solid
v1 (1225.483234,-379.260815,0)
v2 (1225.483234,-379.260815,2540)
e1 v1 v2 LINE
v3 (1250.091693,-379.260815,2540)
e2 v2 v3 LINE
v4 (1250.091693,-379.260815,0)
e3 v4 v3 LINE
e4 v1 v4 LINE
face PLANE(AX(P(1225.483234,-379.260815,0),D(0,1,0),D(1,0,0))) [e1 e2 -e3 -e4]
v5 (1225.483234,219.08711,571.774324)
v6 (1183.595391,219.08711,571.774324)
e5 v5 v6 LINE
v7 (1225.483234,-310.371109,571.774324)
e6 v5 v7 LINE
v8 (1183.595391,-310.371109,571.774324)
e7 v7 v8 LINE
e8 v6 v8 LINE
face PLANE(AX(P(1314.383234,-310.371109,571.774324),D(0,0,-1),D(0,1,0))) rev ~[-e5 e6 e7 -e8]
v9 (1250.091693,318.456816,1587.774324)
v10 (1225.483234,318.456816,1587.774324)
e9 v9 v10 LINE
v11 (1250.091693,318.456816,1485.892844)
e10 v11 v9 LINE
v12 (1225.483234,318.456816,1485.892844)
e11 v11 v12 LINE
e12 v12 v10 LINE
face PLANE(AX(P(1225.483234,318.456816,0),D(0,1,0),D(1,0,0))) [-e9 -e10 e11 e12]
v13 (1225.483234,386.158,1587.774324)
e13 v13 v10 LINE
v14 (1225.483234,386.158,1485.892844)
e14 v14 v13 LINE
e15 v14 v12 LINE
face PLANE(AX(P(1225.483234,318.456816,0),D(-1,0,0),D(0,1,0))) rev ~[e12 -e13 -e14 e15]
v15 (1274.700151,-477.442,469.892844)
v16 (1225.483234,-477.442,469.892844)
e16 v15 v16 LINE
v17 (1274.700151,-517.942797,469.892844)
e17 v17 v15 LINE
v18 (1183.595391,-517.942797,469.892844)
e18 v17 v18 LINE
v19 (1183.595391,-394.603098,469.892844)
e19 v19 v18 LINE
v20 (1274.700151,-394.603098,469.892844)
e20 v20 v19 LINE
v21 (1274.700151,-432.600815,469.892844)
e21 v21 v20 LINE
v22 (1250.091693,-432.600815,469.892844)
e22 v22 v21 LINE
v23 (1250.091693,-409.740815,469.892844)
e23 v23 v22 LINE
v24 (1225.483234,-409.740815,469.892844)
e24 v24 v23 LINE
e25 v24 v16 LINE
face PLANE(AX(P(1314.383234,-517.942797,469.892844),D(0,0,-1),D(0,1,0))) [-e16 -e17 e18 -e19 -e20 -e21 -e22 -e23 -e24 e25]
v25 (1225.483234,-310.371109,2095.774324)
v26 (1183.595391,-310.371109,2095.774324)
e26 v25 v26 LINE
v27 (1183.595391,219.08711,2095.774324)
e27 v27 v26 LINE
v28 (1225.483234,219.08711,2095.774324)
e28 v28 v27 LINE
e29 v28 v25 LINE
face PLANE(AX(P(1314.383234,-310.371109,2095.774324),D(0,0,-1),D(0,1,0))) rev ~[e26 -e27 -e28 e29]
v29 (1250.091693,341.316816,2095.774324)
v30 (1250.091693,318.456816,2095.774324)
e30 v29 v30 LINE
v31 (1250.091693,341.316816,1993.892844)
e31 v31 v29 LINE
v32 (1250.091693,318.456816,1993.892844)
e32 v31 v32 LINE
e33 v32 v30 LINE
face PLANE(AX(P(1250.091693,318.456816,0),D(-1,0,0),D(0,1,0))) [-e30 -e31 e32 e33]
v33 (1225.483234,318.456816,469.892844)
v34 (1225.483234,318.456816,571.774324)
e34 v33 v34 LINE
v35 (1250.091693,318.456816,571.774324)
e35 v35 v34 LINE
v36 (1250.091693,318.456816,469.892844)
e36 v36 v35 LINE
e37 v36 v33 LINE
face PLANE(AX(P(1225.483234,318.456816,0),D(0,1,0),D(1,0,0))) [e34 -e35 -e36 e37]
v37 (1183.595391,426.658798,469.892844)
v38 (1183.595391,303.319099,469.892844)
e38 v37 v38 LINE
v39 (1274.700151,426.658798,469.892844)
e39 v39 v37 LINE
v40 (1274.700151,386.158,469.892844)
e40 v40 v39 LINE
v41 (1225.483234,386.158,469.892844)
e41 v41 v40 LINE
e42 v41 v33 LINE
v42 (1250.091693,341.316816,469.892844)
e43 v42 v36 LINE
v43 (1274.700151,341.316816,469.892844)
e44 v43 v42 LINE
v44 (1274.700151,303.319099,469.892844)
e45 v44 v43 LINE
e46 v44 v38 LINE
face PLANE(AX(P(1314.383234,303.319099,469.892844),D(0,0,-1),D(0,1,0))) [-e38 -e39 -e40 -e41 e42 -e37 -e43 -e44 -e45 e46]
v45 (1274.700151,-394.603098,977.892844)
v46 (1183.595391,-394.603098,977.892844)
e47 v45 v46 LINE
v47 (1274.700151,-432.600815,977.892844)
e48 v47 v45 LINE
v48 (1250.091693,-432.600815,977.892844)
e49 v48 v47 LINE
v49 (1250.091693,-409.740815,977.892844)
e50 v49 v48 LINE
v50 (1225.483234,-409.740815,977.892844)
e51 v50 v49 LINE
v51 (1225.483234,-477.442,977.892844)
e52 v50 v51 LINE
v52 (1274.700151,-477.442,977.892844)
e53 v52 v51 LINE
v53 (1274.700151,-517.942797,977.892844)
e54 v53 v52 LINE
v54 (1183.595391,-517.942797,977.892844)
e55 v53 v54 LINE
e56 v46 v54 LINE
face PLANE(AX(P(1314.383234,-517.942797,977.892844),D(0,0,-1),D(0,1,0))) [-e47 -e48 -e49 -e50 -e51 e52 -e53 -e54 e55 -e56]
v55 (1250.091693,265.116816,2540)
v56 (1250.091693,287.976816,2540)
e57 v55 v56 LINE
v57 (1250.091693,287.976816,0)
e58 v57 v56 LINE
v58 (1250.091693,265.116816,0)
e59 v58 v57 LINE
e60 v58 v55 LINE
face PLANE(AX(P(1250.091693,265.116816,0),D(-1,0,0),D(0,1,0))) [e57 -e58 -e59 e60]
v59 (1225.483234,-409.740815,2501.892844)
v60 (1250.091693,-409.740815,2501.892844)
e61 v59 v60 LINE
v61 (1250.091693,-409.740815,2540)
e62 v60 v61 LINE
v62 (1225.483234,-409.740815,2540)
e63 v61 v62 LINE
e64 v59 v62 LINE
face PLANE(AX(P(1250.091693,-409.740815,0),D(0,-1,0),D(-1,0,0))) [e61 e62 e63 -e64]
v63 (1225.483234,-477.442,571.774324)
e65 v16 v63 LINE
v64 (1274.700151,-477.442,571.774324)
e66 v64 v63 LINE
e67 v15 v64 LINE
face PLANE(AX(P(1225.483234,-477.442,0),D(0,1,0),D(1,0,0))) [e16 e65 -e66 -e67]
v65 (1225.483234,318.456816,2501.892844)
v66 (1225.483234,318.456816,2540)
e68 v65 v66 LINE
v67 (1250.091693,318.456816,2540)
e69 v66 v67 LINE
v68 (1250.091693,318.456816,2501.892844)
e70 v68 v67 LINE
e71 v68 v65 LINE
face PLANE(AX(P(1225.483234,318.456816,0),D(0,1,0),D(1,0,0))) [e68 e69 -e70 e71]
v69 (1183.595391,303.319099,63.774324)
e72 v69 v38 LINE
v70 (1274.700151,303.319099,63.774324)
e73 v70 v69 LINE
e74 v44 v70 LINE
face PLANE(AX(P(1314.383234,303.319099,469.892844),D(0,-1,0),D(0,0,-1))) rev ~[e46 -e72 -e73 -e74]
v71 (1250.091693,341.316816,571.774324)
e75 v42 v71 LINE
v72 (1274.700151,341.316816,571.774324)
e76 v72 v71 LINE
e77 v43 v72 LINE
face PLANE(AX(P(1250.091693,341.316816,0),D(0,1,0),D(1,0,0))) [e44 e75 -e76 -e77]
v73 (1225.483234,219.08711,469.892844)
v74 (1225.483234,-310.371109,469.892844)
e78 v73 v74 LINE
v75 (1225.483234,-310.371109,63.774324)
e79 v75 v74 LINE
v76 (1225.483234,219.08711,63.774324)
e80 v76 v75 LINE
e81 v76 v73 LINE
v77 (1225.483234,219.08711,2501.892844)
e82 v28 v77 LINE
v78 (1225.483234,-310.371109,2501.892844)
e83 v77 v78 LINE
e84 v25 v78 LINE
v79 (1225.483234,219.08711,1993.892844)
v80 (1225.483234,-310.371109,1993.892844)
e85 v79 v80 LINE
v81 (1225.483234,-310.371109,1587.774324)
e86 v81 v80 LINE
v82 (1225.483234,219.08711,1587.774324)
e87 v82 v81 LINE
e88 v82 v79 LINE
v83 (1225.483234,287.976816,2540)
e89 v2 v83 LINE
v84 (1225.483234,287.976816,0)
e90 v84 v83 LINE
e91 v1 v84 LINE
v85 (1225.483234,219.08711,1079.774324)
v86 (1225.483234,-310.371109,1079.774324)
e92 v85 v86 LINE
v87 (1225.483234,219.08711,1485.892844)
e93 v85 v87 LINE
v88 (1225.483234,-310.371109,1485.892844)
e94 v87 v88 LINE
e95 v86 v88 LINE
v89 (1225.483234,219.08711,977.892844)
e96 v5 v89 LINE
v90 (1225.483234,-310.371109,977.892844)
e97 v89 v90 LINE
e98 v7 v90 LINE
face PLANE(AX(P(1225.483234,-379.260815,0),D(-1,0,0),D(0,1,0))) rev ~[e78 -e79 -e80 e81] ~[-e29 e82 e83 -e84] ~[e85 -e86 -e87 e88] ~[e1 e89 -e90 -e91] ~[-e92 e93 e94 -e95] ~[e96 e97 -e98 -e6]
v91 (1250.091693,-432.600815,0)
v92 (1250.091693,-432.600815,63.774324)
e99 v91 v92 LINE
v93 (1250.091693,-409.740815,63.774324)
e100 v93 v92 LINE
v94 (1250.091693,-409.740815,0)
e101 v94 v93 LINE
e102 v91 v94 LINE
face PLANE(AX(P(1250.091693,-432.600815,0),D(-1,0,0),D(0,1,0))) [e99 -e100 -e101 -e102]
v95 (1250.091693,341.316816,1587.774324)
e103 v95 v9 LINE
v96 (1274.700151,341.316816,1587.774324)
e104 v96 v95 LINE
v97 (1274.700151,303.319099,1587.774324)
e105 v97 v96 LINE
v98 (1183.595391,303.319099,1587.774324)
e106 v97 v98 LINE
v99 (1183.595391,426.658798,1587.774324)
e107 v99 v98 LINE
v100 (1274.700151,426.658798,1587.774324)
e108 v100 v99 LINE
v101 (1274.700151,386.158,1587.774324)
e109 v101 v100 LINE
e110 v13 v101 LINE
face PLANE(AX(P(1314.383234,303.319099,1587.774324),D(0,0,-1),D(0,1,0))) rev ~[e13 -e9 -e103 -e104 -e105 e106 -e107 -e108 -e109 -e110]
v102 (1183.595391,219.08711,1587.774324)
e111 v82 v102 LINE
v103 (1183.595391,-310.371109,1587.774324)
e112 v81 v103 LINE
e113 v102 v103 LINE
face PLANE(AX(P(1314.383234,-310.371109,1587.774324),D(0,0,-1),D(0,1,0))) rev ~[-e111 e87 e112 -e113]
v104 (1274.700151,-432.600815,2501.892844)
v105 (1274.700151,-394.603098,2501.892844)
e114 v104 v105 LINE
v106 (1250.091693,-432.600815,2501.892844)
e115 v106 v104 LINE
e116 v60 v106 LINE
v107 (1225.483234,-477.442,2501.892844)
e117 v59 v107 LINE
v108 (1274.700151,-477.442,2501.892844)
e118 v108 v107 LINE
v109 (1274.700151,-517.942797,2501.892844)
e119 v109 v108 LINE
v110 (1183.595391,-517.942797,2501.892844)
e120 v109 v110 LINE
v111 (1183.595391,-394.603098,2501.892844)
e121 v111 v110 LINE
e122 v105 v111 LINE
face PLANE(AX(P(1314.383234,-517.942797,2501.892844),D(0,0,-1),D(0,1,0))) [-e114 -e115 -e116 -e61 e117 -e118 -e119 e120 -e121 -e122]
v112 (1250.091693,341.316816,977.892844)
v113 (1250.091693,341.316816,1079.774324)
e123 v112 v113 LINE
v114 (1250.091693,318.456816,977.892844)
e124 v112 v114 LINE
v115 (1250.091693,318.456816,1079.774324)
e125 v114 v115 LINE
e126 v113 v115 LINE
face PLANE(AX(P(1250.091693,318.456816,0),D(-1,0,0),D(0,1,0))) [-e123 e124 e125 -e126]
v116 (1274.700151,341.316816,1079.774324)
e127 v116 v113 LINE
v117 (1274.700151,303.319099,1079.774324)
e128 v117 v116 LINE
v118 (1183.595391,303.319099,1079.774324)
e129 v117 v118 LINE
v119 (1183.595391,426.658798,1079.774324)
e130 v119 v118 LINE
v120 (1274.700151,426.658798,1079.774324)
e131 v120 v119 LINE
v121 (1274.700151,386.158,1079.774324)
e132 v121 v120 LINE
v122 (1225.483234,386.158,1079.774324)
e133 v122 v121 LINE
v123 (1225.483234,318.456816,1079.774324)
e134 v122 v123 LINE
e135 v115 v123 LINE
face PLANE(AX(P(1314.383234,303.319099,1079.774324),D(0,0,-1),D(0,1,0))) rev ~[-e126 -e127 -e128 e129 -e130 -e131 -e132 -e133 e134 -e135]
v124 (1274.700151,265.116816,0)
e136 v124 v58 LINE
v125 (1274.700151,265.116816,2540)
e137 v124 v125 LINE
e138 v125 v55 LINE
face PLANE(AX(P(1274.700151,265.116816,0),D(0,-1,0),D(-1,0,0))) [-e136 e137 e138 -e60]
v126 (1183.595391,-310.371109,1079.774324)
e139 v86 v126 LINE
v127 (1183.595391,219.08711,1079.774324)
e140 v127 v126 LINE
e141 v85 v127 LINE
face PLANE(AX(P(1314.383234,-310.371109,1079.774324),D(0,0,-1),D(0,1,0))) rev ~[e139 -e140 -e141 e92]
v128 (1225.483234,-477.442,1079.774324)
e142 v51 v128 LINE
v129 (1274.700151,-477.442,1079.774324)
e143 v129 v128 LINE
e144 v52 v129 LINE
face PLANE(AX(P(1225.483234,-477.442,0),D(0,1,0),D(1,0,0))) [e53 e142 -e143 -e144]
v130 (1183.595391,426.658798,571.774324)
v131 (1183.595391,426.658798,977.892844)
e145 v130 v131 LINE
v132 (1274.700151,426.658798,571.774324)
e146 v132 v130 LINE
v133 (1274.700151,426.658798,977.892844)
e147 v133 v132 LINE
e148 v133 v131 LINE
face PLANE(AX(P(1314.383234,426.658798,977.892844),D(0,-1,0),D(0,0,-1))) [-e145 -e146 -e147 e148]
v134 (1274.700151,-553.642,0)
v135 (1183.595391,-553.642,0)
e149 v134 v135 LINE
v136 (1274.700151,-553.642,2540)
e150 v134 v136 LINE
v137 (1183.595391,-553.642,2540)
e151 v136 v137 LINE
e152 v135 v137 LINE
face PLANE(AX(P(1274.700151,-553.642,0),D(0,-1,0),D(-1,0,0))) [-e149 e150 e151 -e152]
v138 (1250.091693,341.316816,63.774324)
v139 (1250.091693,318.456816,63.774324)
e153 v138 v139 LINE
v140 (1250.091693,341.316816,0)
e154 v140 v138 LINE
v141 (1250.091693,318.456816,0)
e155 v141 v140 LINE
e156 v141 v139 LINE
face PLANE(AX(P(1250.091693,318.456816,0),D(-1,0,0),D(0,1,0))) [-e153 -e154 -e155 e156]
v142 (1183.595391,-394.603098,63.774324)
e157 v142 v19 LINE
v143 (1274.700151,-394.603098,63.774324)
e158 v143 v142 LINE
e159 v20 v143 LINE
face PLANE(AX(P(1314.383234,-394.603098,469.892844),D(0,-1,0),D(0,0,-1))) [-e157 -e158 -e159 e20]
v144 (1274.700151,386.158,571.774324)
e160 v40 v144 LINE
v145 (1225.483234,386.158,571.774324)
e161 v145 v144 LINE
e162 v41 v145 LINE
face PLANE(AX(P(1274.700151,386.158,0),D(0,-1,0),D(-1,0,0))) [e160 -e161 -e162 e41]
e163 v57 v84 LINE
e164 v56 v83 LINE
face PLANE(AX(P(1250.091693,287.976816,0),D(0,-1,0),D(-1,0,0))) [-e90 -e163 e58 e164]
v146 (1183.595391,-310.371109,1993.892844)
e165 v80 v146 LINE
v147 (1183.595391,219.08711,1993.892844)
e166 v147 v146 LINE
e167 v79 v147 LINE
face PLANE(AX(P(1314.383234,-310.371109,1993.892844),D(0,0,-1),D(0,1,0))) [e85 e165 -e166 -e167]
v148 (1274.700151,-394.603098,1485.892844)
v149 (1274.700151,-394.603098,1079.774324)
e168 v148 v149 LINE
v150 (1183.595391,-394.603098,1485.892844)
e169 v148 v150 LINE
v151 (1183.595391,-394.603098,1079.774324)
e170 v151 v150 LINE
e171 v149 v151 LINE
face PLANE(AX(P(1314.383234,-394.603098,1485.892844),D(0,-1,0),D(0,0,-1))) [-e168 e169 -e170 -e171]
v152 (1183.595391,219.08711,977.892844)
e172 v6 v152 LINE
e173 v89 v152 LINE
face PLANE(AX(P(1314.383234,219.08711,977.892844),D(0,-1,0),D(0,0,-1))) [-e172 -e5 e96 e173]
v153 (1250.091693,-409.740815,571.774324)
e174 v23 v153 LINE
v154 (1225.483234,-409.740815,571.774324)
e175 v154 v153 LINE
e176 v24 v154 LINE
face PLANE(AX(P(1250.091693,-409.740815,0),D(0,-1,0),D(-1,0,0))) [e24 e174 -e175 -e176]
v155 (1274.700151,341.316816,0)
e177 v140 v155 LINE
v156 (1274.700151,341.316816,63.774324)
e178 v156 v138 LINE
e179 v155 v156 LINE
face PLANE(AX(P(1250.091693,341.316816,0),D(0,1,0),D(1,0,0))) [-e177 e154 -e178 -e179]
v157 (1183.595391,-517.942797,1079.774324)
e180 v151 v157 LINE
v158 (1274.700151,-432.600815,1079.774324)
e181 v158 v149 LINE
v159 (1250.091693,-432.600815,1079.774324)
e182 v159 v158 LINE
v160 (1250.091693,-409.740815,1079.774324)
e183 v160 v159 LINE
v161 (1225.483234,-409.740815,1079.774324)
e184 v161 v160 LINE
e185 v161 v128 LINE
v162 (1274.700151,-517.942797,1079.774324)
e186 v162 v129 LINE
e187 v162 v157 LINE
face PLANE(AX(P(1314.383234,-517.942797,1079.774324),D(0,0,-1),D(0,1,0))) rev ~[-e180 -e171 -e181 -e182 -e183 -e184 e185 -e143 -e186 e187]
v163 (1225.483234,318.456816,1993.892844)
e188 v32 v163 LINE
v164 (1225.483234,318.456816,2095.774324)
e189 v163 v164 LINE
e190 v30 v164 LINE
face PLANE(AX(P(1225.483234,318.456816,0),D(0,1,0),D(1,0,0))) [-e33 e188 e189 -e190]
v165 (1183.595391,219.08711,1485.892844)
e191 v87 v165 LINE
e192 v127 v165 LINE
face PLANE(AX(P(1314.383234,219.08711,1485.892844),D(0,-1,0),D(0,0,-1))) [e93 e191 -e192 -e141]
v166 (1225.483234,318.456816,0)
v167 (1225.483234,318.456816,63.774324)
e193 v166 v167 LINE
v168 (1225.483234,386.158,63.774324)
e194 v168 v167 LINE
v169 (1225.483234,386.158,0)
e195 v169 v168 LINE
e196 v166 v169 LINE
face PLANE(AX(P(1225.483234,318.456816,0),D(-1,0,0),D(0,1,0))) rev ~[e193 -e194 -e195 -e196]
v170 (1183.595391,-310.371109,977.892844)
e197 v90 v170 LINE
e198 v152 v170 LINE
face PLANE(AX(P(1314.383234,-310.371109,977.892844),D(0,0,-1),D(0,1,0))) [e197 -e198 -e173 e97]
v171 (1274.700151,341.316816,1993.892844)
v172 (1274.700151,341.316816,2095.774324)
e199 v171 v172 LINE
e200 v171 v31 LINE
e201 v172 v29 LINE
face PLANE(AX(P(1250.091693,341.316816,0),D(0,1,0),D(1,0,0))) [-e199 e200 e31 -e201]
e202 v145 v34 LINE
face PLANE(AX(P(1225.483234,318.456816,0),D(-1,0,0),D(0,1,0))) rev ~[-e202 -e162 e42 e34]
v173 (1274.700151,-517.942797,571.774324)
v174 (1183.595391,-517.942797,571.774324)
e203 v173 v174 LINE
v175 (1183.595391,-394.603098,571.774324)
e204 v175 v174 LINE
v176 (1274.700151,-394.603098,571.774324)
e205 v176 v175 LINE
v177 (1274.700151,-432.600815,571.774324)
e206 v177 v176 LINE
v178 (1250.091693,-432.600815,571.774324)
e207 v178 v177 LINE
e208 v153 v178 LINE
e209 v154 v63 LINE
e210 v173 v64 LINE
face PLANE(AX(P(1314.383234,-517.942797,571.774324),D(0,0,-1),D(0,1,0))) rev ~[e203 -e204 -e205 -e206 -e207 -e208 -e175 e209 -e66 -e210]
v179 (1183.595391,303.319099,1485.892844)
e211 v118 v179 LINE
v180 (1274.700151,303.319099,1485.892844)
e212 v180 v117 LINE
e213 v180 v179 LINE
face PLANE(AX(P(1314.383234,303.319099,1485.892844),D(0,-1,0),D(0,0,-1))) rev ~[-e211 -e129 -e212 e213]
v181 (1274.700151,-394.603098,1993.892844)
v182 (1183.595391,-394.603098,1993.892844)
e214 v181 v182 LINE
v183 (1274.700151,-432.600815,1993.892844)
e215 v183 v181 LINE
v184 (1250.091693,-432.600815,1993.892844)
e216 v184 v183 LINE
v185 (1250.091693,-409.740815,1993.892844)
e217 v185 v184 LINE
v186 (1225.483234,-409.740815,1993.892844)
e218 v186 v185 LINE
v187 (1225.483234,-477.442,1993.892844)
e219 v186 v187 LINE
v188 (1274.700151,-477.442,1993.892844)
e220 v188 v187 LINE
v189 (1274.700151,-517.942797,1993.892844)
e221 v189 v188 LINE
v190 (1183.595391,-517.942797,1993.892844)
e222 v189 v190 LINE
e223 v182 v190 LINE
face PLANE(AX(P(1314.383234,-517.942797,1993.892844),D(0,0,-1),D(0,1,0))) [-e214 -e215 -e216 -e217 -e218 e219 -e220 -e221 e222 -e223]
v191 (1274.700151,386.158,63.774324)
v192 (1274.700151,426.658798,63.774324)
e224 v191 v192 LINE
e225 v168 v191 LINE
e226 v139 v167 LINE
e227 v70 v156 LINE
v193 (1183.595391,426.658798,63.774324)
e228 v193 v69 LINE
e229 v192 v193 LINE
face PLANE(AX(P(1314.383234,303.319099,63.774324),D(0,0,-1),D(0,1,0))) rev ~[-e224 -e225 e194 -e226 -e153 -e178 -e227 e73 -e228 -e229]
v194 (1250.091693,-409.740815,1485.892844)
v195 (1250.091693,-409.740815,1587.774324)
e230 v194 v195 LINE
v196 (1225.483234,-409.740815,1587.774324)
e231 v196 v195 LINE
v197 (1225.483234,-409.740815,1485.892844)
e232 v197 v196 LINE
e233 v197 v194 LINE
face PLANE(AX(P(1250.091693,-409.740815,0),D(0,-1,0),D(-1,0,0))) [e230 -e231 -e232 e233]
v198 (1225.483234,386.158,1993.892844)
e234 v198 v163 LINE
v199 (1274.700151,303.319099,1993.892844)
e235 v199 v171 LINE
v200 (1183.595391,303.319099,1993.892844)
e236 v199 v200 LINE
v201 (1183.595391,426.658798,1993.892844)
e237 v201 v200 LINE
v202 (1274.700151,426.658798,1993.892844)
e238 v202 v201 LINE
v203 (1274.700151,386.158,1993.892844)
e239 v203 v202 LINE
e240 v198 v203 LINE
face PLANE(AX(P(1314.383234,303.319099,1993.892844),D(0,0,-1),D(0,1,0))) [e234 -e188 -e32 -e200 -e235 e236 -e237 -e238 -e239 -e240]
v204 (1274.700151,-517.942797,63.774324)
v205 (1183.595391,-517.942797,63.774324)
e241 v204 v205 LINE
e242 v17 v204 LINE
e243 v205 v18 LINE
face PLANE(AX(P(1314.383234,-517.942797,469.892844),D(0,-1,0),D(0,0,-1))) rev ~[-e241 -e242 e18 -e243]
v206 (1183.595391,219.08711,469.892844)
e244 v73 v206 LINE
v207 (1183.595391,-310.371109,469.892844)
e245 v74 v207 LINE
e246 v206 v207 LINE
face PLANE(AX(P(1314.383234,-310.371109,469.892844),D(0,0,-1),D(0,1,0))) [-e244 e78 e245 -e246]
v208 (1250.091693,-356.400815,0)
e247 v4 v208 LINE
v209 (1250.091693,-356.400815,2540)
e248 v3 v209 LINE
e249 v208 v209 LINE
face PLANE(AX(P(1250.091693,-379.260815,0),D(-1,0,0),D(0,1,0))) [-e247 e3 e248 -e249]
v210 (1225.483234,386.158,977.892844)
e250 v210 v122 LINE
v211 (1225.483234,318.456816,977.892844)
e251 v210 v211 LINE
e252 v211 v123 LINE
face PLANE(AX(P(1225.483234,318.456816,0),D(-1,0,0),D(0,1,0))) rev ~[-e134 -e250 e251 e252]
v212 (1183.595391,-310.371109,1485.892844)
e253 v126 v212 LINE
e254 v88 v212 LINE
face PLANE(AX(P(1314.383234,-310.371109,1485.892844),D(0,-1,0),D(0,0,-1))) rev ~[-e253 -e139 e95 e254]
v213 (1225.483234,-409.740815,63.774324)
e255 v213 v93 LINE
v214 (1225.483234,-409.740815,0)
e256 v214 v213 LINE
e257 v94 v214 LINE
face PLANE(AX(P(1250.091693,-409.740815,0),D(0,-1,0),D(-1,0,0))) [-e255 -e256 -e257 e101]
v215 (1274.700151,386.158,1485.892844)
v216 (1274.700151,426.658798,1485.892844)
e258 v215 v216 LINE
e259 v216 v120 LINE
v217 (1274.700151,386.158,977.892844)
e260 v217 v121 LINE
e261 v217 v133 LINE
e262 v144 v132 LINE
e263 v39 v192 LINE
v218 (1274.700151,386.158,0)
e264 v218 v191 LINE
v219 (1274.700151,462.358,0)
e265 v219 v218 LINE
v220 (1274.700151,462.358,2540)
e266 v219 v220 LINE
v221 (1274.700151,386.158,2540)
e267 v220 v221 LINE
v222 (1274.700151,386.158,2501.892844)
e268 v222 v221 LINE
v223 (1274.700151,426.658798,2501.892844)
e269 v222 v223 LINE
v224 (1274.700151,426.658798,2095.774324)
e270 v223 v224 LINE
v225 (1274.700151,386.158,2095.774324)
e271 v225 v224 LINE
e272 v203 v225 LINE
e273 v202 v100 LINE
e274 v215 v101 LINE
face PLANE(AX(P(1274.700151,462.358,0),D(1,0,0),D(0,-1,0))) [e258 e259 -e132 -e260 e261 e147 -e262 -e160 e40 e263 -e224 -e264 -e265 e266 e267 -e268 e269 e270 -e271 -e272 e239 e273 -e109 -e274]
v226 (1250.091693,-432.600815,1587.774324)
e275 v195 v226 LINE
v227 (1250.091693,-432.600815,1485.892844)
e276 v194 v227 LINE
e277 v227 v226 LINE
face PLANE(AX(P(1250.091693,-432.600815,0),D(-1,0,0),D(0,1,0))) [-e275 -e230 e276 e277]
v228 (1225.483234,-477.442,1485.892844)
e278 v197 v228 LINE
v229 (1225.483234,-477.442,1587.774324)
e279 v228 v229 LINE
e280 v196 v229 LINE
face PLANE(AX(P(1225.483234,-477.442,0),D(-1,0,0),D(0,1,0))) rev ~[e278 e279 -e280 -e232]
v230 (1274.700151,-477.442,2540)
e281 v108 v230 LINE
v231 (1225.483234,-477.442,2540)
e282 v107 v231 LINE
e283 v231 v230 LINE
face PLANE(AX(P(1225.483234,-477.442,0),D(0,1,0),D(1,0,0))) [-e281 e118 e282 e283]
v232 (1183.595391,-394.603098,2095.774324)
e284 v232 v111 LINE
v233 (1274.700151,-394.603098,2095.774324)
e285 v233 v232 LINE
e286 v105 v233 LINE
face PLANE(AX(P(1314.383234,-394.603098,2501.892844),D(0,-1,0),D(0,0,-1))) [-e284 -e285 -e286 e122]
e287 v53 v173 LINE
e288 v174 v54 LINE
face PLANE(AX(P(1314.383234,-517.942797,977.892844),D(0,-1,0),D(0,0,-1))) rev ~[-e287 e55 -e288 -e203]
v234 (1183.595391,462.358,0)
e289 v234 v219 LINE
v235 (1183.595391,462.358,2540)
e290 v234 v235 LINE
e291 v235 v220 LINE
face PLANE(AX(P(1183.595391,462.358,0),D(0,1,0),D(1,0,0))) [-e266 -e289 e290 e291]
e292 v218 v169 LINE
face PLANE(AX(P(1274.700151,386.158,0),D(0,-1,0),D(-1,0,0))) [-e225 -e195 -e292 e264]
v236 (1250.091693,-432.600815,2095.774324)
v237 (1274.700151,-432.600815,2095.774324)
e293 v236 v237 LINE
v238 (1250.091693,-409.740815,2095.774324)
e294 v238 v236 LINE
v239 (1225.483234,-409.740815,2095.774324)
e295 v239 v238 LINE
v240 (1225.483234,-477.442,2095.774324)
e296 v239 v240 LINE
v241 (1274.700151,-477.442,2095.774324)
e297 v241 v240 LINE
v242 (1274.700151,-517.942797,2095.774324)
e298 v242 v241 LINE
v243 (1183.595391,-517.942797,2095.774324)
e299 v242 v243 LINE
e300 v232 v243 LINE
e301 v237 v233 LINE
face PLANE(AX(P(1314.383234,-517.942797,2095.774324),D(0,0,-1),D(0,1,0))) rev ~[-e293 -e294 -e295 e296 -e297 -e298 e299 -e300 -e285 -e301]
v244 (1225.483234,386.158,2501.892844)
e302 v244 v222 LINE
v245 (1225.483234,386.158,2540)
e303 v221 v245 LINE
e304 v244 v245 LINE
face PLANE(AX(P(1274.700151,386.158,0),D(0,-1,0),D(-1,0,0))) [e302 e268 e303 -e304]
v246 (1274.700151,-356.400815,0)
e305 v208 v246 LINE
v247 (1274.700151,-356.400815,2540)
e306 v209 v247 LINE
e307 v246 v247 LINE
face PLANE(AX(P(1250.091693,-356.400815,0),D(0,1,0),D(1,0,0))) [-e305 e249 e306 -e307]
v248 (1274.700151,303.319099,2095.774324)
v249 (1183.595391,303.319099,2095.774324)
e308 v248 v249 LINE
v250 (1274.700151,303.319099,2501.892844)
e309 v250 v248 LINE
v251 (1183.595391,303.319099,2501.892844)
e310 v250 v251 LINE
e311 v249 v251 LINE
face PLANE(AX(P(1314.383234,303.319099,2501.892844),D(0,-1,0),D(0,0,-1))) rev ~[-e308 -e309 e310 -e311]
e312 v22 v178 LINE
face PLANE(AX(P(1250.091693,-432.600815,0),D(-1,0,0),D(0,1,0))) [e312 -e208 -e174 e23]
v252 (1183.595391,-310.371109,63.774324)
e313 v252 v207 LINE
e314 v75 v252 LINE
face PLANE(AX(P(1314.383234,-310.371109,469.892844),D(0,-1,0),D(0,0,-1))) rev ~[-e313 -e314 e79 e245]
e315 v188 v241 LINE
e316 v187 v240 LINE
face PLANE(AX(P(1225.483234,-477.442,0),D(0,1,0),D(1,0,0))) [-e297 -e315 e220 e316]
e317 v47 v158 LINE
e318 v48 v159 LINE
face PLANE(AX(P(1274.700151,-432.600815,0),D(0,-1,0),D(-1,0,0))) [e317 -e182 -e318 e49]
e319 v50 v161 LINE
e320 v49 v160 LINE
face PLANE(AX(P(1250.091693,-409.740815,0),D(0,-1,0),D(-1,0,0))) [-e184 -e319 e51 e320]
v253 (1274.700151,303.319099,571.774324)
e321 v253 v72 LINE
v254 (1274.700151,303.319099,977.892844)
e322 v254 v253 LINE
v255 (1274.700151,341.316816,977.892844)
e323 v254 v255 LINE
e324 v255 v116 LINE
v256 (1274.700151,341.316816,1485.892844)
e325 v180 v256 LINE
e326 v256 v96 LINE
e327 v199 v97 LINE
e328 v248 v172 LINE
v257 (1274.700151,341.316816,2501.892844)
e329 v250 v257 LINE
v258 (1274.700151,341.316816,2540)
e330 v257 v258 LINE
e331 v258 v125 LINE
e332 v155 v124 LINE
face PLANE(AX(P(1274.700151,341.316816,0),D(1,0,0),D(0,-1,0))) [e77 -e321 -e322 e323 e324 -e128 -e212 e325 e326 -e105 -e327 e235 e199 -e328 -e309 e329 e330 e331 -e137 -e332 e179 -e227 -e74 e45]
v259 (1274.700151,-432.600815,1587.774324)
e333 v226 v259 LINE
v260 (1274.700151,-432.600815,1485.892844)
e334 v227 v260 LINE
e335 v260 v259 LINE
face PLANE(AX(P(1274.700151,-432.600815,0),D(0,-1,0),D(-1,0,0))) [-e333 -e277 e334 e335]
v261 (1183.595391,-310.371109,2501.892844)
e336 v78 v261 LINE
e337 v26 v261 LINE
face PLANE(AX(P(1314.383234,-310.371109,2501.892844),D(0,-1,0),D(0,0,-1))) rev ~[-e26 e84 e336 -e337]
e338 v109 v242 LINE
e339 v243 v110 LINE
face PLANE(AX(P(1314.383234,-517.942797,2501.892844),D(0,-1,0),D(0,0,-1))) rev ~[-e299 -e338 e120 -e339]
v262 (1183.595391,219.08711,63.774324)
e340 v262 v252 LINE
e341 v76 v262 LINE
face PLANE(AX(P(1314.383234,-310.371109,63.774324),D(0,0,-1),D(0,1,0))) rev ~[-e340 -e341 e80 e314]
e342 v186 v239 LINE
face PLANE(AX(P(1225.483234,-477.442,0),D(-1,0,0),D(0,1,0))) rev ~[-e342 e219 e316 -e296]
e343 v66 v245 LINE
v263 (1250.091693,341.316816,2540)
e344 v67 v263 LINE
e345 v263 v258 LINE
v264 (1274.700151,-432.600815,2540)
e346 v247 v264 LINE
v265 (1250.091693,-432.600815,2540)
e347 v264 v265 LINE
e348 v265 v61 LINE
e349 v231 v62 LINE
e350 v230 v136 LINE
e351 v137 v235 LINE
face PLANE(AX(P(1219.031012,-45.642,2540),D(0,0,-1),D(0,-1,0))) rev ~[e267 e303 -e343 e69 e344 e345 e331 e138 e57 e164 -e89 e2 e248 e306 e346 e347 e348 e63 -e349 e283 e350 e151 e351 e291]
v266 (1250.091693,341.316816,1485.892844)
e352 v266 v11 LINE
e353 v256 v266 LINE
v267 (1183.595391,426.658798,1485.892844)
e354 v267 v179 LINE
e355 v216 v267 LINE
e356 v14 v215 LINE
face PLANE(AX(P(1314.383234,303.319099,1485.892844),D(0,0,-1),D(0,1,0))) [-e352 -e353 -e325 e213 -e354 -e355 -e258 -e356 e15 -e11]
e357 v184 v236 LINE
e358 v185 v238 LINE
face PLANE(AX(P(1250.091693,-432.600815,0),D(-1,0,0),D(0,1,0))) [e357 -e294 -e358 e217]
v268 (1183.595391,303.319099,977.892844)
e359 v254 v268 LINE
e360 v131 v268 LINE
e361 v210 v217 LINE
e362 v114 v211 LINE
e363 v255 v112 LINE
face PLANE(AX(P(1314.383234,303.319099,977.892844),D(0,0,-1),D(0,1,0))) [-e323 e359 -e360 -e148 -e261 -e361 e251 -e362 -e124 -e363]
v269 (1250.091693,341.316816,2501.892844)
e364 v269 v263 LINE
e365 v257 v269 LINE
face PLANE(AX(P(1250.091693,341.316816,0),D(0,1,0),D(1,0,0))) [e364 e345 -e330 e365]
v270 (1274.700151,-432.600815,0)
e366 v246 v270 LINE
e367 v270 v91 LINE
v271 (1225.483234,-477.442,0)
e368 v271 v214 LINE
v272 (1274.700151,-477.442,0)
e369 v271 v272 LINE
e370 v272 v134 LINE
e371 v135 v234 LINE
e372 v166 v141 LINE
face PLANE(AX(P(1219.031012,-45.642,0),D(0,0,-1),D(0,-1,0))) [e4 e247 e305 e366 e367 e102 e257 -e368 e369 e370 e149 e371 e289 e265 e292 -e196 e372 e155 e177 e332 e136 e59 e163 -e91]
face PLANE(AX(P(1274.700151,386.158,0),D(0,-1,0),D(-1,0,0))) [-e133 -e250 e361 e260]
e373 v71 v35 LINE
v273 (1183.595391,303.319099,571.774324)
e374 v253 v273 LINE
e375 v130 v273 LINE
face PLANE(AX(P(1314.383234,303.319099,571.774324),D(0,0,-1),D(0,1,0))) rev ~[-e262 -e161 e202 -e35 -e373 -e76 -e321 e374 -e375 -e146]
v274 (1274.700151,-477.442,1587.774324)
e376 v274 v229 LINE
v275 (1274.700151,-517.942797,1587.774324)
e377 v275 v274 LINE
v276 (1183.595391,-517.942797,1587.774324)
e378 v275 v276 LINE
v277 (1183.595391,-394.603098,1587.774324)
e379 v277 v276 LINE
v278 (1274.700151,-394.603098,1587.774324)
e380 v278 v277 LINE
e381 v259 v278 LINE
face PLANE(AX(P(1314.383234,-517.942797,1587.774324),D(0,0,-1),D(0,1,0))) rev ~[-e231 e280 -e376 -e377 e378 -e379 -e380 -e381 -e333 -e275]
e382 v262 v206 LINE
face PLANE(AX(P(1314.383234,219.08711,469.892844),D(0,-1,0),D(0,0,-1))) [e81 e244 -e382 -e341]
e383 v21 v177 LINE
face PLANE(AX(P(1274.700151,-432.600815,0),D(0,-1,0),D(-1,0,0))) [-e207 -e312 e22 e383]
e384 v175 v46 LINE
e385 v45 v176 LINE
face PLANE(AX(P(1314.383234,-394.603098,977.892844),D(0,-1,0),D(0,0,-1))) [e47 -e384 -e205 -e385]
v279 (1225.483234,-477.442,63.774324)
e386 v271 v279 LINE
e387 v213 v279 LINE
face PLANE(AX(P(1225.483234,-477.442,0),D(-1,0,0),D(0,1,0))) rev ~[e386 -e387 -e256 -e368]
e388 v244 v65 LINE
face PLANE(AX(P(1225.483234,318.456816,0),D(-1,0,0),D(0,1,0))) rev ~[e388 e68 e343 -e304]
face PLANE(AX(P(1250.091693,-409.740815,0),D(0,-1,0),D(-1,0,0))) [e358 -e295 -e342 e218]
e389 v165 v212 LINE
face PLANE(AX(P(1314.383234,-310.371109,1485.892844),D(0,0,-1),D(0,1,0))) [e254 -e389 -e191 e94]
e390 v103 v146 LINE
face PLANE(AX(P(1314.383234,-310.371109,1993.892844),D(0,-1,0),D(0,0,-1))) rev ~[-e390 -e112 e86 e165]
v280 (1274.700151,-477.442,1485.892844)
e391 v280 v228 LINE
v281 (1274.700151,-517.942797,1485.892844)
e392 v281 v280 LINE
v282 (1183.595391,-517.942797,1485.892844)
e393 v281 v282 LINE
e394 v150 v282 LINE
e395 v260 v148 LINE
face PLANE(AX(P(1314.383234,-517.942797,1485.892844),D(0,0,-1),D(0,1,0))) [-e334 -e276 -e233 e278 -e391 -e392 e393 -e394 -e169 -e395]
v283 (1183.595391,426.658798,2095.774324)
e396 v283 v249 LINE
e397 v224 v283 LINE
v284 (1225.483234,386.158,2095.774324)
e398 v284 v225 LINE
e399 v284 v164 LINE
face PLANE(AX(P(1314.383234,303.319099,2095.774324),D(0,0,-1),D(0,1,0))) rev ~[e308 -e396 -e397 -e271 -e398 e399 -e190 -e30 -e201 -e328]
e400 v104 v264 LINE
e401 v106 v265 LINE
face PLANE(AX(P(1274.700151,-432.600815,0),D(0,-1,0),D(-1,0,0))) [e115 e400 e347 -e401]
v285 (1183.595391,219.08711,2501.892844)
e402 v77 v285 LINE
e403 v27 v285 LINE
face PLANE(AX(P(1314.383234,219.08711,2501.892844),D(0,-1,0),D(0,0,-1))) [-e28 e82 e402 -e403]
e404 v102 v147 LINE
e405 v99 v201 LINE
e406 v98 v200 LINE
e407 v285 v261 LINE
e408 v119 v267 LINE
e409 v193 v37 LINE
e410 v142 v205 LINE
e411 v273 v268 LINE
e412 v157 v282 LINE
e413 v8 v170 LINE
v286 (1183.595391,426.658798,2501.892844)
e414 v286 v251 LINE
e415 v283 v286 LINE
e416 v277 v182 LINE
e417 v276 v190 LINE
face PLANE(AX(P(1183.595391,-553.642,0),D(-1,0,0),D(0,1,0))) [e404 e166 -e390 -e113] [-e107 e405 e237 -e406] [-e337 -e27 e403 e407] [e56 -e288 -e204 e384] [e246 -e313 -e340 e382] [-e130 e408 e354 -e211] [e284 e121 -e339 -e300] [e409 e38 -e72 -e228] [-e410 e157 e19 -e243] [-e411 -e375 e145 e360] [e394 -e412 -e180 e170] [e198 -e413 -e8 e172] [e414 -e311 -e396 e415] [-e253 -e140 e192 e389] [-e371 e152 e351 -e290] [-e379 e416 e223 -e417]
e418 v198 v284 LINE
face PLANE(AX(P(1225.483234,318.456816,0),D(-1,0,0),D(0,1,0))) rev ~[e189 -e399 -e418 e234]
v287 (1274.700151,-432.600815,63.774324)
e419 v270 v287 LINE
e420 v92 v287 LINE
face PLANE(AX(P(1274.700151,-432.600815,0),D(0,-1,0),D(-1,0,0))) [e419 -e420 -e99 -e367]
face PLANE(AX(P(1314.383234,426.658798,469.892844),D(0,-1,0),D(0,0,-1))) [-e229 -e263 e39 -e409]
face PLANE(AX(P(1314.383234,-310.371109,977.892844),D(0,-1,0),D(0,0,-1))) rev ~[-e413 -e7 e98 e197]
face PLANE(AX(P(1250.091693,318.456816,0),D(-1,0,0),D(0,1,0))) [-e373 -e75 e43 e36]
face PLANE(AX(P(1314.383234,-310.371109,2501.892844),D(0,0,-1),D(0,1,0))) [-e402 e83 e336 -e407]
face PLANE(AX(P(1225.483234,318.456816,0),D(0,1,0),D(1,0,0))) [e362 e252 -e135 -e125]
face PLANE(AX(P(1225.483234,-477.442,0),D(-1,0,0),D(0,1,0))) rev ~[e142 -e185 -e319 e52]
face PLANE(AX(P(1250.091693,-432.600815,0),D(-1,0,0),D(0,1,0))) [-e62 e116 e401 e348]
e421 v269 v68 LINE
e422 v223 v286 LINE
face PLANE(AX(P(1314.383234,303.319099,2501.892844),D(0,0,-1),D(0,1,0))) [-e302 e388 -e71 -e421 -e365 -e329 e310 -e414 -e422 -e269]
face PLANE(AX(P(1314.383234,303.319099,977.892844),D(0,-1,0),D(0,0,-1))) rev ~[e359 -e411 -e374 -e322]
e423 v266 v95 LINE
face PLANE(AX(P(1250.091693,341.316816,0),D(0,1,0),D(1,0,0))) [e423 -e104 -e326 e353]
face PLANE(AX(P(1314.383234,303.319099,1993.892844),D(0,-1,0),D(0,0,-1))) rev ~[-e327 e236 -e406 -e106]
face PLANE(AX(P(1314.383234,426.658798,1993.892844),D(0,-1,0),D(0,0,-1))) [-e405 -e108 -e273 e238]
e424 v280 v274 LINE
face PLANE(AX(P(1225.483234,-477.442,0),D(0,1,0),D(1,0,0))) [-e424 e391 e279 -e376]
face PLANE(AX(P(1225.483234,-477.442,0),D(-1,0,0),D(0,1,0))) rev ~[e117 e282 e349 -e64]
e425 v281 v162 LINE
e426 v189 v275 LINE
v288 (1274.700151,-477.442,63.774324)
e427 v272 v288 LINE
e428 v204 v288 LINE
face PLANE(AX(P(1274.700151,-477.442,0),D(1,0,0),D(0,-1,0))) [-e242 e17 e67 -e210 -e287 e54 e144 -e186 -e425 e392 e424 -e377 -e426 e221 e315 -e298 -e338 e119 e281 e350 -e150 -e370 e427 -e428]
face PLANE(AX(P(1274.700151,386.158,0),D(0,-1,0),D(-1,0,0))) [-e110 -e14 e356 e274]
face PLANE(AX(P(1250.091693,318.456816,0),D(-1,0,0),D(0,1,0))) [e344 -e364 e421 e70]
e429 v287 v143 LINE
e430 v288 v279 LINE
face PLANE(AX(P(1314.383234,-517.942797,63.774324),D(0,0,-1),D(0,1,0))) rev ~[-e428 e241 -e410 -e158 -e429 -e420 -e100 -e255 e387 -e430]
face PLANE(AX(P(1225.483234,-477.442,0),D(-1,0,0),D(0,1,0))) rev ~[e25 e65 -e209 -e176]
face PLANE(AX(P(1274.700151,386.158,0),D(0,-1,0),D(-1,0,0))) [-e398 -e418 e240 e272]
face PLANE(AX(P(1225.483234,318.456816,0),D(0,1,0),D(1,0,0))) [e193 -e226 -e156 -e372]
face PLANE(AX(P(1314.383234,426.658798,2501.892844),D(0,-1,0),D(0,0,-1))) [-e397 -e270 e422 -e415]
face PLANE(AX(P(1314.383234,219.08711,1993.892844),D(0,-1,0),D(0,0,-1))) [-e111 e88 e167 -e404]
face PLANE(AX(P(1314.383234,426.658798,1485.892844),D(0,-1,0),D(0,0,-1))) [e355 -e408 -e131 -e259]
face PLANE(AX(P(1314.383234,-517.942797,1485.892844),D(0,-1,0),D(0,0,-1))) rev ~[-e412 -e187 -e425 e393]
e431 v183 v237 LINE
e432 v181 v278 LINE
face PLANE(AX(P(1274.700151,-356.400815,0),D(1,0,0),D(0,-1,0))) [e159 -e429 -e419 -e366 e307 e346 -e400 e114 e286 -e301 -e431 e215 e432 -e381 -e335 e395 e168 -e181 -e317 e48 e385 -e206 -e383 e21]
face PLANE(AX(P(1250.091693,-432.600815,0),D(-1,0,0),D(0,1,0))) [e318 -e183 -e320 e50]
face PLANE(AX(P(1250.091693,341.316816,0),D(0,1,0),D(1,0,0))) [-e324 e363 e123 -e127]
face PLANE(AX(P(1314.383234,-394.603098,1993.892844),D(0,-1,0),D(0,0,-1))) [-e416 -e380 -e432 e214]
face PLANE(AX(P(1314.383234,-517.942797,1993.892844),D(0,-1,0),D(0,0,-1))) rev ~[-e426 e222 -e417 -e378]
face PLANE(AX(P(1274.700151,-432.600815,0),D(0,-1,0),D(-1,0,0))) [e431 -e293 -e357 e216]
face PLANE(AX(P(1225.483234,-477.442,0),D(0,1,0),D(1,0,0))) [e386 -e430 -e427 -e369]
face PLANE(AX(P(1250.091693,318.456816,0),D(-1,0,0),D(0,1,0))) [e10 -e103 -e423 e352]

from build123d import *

# Parameters (mm, degrees)
EXTRUDE1_DEPTH = 2540
EXTRUDE2_START = 88.9
SKETCH2_W      = 406.11851991
SKETCH2_H      = 123.339698639
SKETCH2_H_2    = 529.458218549
EXTRUDE2_DEPTH = 2690.004184222


with BuildPart() as part:
    # Sketch1 → Extrude1 (new body)
    with BuildSketch(Plane(origin=(0, 0, 0), x_dir=(0, 1, 0), z_dir=(0, 0, 1))):
        Polygon((-379.260815056, -1250.091692764), (-356.400815056, -1250.091692764), (-356.400815056, -1274.700151443), (-432.600815056, -1274.700151443), (-432.600815056, -1250.091692764), (-409.740815056, -1250.091692764), (-409.740815056, -1225.483234085), (-432.600815056, -1225.483234085), (-477.441999719, -1225.483234085), (-477.441999719, -1274.700151443), (-553.641999719, -1274.700151443), (-553.641999719, -1183.595391403), (462.358000281, -1183.595391403), (462.358000281, -1274.700151443), (386.158000281, -1274.700151443), (386.158000281, -1225.483234085), (341.316815619, -1225.483234085), (318.456815619, -1225.483234085), (318.456815619, -1250.091692764), (341.316815619, -1250.091692764), (341.316815619, -1274.700151443), (265.116815619, -1274.700151443), (265.116815619, -1250.091692764), (287.976815619, -1250.091692764), (287.976815619, -1225.483234085), (265.116815619, -1225.483234085), (-356.400815056, -1225.483234085), (-379.260815056, -1225.483234085), align=None)
    extrude(amount=EXTRUDE1_DEPTH)

    # Sketch2 → Extrude2 (cut, through all)
    with BuildSketch(Plane(origin=(1225.483234085, 0, 0), x_dir=(0, 0, -1), z_dir=(1, 0, 0)).offset(EXTRUDE2_START)):
        with Locations((-1790.833583772, -456.272947628)):
            Rectangle(SKETCH2_W, SKETCH2_H)
        with Locations((-2298.833583772, -456.272947628)):
            Rectangle(SKETCH2_W, SKETCH2_H)
        with Locations((-2298.833583772, -45.641999719)):
            Rectangle(SKETCH2_W, SKETCH2_H_2)
        with Locations((-2298.833583772, 364.98894819)):
            Rectangle(SKETCH2_W, SKETCH2_H)
        with Locations((-1790.833583772, -45.641999719)):
            Rectangle(SKETCH2_W, SKETCH2_H_2)
        with Locations((-1790.833583772, 364.98894819)):
            Rectangle(SKETCH2_W, SKETCH2_H)
        with Locations((-1282.833583772, -456.272947628)):
            Rectangle(SKETCH2_W, SKETCH2_H)
        with Locations((-1282.833583772, -45.641999719)):
            Rectangle(SKETCH2_W, SKETCH2_H_2)
        with Locations((-1282.833583772, 364.98894819)):
            Rectangle(SKETCH2_W, SKETCH2_H)
        with Locations((-774.833583772, -456.272947628)):
            Rectangle(SKETCH2_W, SKETCH2_H)
        with Locations((-774.833583772, -45.641999719)):
            Rectangle(SKETCH2_W, SKETCH2_H_2)
        with Locations((-774.833583772, 364.98894819)):
            Rectangle(SKETCH2_W, SKETCH2_H)
        with Locations((-266.833583772, -456.272947628)):
            Rectangle(SKETCH2_W, SKETCH2_H)
        with Locations((-266.833583772, -45.641999719)):
            Rectangle(SKETCH2_W, SKETCH2_H_2)
        with Locations((-266.833583772, 364.98894819)):
            Rectangle(SKETCH2_W, SKETCH2_H)
    extrude(amount=-EXTRUDE2_DEPTH, mode=Mode.SUBTRACT)


solid = part.part
